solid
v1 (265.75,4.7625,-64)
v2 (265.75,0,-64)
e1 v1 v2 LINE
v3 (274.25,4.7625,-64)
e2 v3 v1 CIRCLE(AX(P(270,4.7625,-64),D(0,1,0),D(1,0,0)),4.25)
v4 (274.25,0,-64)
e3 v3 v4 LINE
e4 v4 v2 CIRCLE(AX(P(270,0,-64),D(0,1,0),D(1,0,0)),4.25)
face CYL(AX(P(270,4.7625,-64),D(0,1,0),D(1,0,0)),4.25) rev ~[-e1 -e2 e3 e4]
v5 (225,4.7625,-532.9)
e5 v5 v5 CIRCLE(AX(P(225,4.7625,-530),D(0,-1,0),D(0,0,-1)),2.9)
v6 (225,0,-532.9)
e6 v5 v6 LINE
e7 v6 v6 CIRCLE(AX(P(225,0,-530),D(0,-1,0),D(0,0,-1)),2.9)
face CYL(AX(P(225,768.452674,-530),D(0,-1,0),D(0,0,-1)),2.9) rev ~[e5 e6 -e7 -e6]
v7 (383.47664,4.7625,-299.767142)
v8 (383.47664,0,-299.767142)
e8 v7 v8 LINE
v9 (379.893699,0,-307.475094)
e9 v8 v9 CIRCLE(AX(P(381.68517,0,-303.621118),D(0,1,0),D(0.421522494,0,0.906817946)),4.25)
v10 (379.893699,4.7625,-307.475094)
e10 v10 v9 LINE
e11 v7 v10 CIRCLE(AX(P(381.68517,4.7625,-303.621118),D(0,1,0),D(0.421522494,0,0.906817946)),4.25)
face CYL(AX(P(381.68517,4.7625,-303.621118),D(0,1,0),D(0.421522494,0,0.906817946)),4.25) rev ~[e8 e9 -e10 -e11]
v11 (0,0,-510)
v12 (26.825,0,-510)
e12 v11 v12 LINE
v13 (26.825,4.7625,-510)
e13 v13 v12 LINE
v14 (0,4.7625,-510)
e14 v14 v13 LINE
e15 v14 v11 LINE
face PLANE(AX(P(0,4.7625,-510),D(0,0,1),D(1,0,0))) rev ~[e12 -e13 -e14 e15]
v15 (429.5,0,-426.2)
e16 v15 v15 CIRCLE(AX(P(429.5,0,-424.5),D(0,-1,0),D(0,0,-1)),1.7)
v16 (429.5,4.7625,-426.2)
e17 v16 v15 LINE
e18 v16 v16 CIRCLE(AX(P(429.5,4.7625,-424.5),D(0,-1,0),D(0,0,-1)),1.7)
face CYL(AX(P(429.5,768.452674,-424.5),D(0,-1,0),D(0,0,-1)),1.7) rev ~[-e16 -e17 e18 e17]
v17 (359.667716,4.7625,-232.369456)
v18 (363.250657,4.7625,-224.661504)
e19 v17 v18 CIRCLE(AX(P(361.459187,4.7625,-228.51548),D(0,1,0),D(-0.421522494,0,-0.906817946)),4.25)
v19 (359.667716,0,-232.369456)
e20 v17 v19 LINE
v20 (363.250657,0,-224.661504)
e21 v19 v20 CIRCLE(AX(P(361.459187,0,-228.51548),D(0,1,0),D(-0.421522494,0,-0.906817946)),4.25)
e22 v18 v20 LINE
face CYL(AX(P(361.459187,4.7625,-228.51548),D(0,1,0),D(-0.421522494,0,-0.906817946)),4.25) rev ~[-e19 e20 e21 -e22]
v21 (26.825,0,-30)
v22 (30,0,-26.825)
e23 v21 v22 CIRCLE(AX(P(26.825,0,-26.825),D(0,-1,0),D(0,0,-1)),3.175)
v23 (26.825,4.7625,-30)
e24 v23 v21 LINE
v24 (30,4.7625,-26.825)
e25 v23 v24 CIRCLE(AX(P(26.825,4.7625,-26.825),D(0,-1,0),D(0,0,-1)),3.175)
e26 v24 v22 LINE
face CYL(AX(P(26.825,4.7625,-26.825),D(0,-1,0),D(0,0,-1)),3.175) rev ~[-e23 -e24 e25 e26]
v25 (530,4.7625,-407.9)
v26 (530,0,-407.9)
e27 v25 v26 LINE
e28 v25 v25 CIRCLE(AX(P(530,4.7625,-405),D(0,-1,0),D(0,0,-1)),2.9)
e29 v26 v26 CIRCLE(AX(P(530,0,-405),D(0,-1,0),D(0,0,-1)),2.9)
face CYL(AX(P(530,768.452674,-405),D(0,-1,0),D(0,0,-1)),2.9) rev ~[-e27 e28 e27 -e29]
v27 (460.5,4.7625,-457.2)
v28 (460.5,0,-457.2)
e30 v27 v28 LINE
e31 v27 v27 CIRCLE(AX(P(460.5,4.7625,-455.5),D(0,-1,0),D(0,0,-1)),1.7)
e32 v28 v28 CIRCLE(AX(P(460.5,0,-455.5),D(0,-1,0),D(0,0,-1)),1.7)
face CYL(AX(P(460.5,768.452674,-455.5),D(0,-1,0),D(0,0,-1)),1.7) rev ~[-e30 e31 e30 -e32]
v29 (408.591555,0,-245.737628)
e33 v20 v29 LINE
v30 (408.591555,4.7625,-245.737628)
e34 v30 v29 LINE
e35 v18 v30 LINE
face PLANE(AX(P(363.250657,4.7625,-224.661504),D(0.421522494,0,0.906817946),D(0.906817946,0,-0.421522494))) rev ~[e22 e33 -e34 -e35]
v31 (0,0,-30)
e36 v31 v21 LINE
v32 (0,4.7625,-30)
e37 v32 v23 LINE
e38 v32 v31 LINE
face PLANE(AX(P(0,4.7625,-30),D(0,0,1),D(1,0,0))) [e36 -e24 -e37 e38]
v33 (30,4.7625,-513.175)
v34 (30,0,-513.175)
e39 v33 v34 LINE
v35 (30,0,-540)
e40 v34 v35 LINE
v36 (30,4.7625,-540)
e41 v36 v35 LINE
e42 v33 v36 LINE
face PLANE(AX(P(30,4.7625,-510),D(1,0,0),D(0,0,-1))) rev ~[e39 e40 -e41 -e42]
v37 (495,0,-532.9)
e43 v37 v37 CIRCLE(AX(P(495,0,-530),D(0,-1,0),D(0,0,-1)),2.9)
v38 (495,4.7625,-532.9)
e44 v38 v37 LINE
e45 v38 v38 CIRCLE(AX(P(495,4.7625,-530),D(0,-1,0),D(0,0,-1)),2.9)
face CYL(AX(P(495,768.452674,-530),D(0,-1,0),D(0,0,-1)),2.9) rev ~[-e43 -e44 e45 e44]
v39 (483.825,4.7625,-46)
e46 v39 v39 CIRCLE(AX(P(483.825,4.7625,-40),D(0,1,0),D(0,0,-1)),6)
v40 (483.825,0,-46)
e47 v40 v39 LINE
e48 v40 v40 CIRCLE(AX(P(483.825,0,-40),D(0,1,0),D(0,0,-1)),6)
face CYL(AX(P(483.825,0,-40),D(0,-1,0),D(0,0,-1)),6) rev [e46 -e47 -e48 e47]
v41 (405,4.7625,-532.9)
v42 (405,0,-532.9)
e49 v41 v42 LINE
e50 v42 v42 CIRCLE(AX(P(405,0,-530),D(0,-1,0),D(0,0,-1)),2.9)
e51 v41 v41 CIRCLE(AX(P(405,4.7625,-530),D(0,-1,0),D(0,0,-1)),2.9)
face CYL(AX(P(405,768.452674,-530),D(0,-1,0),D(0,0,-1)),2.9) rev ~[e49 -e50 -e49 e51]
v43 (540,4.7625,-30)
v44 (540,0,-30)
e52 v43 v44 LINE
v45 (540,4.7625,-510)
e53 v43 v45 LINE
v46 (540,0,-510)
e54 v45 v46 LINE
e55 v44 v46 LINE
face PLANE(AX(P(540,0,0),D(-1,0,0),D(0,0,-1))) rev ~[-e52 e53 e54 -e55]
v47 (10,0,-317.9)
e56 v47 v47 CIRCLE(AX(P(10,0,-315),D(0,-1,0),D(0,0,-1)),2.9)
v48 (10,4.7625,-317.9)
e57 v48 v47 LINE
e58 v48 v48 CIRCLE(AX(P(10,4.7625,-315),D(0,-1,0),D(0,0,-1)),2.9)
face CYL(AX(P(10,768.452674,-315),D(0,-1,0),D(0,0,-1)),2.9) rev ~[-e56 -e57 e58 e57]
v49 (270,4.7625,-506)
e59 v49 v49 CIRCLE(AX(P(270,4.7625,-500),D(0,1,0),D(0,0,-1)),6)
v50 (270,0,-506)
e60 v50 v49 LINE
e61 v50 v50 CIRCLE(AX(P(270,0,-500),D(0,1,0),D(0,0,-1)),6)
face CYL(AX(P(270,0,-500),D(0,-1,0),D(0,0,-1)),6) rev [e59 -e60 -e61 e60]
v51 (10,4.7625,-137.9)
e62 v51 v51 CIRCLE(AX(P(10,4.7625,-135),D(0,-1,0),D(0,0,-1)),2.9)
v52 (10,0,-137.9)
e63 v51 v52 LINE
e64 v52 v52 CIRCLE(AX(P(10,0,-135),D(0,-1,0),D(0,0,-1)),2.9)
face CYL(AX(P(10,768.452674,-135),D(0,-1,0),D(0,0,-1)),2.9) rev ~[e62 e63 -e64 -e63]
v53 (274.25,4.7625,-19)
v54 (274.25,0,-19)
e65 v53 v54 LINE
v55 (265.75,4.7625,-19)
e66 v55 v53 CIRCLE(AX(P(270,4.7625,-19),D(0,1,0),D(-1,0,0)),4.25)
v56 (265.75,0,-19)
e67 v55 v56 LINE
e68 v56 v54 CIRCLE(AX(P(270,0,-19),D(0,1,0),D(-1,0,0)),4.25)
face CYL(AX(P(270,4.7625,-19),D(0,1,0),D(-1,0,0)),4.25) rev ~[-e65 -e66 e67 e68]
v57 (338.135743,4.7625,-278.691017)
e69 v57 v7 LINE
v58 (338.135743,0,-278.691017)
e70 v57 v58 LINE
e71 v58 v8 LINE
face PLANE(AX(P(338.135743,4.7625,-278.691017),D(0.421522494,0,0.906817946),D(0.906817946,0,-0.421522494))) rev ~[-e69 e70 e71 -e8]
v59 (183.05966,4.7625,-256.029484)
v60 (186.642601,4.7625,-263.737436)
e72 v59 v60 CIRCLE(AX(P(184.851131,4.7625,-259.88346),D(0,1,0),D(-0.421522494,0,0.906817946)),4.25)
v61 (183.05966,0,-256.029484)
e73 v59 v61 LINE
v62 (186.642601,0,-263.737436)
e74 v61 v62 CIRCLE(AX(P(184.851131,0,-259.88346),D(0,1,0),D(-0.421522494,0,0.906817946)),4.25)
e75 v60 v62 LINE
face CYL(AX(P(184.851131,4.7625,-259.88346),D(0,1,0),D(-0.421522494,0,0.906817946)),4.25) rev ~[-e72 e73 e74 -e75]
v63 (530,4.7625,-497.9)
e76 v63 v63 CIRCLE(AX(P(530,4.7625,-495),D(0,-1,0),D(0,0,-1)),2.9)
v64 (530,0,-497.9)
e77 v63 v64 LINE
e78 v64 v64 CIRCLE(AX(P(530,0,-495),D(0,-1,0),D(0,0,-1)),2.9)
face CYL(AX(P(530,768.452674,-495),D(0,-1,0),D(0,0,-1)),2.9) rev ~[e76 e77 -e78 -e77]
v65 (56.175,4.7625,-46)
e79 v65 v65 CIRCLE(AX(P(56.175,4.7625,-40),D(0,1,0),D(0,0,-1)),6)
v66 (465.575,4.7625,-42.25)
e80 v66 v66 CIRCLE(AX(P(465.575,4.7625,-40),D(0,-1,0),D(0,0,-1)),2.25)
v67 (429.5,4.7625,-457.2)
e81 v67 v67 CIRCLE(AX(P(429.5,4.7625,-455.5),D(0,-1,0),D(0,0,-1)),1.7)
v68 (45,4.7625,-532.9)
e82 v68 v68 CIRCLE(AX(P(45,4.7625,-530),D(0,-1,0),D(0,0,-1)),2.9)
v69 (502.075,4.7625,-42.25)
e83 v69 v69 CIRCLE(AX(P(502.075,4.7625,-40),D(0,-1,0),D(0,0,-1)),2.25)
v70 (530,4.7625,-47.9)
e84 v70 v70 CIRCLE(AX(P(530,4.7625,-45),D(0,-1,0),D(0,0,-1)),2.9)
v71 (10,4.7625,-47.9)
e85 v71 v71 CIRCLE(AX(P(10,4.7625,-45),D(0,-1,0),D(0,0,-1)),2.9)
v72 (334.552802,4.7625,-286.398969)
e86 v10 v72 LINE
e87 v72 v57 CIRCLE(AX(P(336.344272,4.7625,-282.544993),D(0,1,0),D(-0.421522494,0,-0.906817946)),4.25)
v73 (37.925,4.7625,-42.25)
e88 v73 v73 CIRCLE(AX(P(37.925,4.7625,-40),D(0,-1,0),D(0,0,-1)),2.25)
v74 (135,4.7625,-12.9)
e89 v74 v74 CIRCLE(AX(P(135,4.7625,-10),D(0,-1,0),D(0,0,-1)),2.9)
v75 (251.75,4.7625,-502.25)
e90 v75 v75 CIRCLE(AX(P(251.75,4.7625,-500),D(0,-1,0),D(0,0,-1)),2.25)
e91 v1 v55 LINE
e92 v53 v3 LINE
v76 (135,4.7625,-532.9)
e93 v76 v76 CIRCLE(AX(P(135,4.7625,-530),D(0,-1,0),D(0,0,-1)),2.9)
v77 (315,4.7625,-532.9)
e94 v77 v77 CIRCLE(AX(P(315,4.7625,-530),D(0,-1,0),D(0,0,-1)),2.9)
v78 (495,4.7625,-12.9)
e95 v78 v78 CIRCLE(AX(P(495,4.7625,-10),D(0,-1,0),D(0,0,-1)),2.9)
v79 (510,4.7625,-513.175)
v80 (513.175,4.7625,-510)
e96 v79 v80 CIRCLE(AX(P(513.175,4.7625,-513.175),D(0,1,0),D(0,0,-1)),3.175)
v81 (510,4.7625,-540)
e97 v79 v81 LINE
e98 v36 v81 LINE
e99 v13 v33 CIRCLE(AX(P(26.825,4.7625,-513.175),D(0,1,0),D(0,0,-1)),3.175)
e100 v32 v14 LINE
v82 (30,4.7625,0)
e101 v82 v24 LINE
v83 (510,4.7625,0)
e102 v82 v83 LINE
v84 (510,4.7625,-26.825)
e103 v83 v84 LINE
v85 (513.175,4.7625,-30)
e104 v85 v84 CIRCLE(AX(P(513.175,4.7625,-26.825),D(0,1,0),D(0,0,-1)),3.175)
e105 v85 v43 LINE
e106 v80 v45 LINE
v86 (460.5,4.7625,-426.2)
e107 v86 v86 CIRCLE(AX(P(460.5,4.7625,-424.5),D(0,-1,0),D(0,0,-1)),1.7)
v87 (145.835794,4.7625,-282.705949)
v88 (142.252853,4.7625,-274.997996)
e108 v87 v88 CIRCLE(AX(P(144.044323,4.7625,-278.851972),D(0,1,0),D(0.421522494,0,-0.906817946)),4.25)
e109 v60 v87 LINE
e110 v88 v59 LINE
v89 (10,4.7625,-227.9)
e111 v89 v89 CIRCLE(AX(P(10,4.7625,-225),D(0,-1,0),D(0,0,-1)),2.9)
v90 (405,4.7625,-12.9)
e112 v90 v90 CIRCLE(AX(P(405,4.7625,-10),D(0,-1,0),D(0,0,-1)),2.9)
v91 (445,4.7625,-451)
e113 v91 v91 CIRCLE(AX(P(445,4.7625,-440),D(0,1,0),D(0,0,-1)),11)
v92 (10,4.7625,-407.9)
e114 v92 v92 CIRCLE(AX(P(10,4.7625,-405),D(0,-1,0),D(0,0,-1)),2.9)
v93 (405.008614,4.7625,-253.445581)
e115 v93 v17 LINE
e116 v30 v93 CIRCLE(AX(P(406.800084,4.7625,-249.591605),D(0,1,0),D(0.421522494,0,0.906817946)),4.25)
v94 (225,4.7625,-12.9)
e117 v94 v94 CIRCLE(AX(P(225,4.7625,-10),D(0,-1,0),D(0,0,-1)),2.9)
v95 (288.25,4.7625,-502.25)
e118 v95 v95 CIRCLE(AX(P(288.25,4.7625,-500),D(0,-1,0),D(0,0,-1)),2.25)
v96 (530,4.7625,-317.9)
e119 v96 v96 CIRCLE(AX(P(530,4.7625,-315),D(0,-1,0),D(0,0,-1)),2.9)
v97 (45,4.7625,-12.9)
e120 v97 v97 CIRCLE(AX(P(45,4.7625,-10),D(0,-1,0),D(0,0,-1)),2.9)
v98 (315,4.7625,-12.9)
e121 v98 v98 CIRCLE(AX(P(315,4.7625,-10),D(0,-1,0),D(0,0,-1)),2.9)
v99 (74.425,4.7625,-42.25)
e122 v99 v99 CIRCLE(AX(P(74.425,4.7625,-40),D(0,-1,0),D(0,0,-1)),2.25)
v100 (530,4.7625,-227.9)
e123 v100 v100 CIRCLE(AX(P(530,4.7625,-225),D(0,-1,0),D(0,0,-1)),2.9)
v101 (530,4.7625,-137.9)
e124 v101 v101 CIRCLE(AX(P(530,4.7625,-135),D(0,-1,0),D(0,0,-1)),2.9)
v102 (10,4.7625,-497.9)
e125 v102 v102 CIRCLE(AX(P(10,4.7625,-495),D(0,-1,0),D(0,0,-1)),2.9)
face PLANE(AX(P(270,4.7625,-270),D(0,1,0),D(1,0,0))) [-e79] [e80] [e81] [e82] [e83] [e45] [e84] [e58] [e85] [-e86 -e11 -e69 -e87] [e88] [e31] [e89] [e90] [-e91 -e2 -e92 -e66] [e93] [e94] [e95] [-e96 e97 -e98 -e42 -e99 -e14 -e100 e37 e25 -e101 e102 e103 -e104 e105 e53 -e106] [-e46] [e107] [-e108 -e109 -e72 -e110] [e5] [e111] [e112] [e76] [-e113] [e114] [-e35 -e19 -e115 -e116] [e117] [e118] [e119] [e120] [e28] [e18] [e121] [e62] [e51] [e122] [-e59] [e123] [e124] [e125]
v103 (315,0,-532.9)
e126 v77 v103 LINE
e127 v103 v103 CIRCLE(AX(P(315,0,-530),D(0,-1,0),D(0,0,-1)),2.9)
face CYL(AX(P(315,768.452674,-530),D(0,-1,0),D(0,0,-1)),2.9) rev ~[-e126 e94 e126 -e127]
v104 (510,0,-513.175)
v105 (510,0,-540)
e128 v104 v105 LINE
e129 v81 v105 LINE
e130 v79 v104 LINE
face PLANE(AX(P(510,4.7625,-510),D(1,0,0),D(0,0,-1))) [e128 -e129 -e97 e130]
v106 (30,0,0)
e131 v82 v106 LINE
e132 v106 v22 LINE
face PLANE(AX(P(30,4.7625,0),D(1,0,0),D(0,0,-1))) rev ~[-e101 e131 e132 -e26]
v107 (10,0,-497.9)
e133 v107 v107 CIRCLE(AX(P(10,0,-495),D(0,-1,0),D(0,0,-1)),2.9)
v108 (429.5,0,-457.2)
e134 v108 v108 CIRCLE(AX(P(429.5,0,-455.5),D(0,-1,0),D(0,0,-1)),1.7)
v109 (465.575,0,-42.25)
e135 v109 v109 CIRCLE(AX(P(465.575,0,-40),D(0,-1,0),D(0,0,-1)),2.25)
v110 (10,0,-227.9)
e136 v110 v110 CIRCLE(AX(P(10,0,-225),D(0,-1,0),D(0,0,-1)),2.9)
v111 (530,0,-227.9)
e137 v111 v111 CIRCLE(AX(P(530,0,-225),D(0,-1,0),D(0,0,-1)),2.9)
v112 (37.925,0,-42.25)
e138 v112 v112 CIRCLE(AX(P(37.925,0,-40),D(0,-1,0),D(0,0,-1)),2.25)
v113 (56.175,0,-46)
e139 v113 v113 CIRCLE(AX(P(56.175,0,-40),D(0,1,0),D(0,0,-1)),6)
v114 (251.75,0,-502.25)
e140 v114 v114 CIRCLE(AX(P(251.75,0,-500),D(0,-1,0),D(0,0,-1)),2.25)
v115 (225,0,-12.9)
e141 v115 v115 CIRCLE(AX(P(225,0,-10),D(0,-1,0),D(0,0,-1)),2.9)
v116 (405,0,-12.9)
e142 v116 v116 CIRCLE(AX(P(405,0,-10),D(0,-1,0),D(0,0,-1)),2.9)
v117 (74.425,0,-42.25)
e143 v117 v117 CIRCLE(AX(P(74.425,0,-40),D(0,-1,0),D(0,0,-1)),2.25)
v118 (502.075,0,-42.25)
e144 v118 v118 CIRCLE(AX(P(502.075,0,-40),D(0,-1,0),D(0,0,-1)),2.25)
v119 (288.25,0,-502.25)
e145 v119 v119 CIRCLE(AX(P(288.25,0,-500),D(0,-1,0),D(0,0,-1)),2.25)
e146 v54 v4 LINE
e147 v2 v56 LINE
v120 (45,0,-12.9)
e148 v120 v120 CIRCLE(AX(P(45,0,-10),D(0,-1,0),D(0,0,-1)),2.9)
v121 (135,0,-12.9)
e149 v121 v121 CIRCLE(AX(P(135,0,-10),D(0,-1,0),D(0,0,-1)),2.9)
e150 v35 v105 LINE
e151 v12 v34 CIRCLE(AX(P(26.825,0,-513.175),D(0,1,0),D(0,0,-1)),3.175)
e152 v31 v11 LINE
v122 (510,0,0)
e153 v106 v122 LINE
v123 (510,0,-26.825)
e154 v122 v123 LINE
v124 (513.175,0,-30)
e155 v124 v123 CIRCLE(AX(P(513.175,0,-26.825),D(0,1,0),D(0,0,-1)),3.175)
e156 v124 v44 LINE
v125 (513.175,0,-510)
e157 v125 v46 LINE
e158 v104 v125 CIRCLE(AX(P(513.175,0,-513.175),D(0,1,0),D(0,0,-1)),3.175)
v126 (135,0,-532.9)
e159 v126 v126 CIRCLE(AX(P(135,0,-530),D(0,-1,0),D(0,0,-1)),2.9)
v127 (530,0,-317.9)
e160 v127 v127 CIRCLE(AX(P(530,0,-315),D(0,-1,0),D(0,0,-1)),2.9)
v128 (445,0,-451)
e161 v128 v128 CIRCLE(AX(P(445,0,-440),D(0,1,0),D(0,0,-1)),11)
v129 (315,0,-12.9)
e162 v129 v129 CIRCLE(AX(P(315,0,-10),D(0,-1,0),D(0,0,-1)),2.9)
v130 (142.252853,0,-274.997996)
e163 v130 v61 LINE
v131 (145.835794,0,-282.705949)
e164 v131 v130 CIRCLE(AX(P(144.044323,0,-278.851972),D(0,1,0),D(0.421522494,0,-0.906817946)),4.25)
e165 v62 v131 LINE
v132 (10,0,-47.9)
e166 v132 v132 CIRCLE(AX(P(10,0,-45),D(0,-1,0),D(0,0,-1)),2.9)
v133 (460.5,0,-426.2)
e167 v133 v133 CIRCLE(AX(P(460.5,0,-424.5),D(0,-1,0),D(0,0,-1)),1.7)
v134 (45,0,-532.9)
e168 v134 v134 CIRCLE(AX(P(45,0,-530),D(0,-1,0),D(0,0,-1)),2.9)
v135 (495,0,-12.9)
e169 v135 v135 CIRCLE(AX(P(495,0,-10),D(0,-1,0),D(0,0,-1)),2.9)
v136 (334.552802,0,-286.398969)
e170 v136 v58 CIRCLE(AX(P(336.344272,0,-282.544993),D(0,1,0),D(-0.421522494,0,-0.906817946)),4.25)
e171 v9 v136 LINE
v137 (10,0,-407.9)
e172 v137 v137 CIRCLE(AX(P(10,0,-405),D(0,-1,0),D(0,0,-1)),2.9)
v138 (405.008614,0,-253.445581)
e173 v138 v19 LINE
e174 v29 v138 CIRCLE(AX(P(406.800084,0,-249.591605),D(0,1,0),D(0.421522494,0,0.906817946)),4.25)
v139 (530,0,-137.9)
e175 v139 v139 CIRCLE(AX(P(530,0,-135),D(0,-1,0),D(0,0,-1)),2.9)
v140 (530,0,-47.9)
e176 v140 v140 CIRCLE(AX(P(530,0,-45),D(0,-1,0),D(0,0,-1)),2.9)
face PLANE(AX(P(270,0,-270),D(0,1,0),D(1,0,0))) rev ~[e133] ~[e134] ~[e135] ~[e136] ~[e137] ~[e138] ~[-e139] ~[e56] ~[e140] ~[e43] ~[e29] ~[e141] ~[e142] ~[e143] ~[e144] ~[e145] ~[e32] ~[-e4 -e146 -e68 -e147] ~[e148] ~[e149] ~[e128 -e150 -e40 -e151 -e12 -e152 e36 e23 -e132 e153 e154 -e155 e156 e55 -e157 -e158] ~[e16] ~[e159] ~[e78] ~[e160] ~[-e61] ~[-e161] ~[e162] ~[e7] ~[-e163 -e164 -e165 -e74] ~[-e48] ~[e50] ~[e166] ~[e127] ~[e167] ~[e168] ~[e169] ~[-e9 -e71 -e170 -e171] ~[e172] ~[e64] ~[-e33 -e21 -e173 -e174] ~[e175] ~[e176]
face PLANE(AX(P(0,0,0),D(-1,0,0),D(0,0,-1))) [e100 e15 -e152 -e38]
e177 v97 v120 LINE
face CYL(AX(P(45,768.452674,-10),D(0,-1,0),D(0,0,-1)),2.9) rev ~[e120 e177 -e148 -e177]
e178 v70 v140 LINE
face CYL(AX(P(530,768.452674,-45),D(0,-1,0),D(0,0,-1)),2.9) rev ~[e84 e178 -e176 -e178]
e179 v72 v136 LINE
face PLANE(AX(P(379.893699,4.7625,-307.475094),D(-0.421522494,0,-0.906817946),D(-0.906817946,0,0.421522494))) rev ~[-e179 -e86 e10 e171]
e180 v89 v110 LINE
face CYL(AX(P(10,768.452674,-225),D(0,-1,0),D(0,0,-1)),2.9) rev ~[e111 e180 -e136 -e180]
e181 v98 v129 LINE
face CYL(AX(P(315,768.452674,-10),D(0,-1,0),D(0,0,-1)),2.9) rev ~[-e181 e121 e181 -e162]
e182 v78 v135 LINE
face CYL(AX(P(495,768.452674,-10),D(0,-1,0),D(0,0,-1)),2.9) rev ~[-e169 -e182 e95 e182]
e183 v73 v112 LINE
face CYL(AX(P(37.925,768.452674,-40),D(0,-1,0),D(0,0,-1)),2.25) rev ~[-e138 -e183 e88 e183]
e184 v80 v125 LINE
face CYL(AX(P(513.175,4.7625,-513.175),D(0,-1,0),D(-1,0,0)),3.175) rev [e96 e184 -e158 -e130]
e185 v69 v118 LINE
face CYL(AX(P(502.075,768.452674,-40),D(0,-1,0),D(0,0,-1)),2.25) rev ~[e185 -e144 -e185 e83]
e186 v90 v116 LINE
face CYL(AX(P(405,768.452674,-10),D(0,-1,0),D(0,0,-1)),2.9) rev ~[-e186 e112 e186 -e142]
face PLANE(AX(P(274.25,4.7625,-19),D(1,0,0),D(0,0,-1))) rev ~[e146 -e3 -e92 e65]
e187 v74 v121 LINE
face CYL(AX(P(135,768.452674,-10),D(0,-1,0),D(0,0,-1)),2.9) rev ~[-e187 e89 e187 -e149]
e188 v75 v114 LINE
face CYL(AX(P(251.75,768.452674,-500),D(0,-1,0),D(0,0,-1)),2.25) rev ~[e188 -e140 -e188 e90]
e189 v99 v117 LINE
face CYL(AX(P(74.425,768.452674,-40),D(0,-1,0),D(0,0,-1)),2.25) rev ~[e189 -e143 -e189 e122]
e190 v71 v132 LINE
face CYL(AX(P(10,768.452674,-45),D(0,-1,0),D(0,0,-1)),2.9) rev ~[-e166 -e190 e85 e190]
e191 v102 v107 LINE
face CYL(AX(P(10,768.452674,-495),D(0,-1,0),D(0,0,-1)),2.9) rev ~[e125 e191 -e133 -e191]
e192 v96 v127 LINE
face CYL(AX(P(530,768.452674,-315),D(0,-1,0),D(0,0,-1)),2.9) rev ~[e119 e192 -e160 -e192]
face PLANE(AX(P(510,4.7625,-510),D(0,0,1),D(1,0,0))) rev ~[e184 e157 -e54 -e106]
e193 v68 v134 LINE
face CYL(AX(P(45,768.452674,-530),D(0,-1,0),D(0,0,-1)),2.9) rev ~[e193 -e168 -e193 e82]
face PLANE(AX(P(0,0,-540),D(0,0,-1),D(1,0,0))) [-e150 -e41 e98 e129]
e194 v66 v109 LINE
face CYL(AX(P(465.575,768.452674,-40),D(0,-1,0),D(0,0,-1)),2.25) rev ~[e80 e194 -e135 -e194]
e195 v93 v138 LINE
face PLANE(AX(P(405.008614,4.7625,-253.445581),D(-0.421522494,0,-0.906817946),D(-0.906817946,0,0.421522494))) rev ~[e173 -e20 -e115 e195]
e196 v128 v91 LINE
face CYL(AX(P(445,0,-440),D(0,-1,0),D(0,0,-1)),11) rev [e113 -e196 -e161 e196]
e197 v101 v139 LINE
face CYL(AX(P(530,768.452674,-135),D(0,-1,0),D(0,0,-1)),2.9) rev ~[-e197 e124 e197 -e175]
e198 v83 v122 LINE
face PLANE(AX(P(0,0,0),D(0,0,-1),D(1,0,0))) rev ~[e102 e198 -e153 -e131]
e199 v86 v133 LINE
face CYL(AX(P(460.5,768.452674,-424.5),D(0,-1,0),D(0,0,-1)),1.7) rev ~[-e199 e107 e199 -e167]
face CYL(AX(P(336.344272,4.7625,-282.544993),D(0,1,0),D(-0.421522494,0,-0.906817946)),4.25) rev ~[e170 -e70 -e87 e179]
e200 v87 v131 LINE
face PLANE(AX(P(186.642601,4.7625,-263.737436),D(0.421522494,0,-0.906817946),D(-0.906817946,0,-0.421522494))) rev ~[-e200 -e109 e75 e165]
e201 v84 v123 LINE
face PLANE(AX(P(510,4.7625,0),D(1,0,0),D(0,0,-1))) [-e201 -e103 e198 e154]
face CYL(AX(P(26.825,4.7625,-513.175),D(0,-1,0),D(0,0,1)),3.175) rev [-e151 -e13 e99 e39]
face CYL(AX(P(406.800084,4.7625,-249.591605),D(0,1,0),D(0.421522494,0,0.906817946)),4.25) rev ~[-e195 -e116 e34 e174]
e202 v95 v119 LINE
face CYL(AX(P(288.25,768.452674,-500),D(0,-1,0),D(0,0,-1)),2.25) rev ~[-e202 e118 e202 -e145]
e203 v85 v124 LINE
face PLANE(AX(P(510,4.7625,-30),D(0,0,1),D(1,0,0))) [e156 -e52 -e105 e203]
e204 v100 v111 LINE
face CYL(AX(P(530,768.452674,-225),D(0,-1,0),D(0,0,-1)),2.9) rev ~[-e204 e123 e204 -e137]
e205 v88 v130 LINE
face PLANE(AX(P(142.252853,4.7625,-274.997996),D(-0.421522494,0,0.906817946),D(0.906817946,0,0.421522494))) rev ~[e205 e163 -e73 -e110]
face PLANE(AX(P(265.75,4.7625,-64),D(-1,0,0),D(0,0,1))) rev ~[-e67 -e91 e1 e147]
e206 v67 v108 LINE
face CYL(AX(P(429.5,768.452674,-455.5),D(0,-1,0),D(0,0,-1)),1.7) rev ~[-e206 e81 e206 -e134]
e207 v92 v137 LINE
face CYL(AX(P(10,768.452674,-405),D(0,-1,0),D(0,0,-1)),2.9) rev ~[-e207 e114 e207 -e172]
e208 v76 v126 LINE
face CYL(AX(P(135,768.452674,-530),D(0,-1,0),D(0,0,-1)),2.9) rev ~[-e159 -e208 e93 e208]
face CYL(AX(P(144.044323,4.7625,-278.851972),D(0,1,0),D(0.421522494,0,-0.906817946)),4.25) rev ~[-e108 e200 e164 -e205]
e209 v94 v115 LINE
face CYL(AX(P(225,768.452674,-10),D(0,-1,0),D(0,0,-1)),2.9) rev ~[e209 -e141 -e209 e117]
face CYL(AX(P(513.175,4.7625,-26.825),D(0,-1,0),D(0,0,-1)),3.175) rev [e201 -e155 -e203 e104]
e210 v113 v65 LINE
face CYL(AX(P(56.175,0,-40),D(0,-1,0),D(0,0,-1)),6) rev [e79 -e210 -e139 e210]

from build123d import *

# Parameters (mm, degrees)
SKETCH2_W             = 540
SKETCH2_H             = 540
SKETCH2_R             = 6
SKETCH2_R_2           = 11
BOSS_EXTRUDE1_DEPTH   = 4.7625
M4_CLEARANCE_HOLE1_D  = 4.5
M3_CLEARANCE_HOLE10_D = 3.4
SKETCH5_W             = 30
SKETCH5_H             = 30
CUT_EXTRUDE1_DEPTH    = 764.6901737
FILLET1_R             = 3.175
CUT_EXTRUDE2_DEPTH    = 764.6901737
CUT_EXTRUDE3_DEPTH    = 764.6901737
M5_CLEARANCE_HOLE1_D  = 5.8
LPATTERN1_COUNT       = 6
LPATTERN1_PITCH       = 90
M5_CLEARANCE_HOLE2_D  = 5.8
LPATTERN2_COUNT       = 6
LPATTERN2_PITCH       = 90
M5_CLEARANCE_HOLE3_D  = 5.8
LPATTERN3_COUNT       = 6
LPATTERN3_PITCH       = 90
M5_CLEARANCE_HOLE4_D  = 5.8
LPATTERN4_COUNT       = 6
LPATTERN4_PITCH       = 90


with BuildPart() as part:
    # Sketch2 → Boss-Extrude1 (new body)
    with BuildSketch(Plane(origin=(0, 0, 0), x_dir=(1, 0, 0), z_dir=(0, 1, 0))):
        with Locations((270, 270)):
            Rectangle(SKETCH2_W, SKETCH2_H)
        with Locations((56.175, 40)):
            Circle(SKETCH2_R, mode=Mode.SUBTRACT)
        with Locations((483.825, 40)):
            Circle(SKETCH2_R, mode=Mode.SUBTRACT)
        with Locations((270, 500)):
            Circle(SKETCH2_R, mode=Mode.SUBTRACT)
        with Locations((445, 440)):
            Circle(SKETCH2_R_2, mode=Mode.SUBTRACT)
    extrude(amount=BOSS_EXTRUDE1_DEPTH)

    # M4 Clearance Hole1 (through all)
    with Locations(Plane(origin=(74.425, 4.7625, -40), x_dir=(0, 0, 1), z_dir=(0, 1, 0))):
        with Locations((0, 0), (0, -36.5), (-460, 177.325), (-460, 213.825), (0, 391.15), (0, 427.65)):
            Hole(M4_CLEARANCE_HOLE1_D / 2)

    # M3 Clearance Hole10 (through all)
    with Locations(Plane(origin=(429.5, 4.7625, -455.5), x_dir=(0, 0, 1), z_dir=(0, 1, 0))):
        with Locations((0, 0), (0, 31), (31, 31), (31, 0)):
            Hole(M3_CLEARANCE_HOLE10_D / 2)

    # Sketch5 → Cut-Extrude1 (cut, through all)
    with BuildSketch(Plane(origin=(0, 4.7625, 0), x_dir=(1, 0, 0), z_dir=(0, 1, 0))):
        with Locations((15, 15)):
            Rectangle(SKETCH5_W, SKETCH5_H)
        with Locations((525, 15)):
            Rectangle(SKETCH5_W, SKETCH5_H)
        with Locations((525, 525)):
            Rectangle(SKETCH5_W, SKETCH5_H)
        with Locations((15, 525)):
            Rectangle(SKETCH5_W, SKETCH5_H)
    extrude(amount=-CUT_EXTRUDE1_DEPTH, mode=Mode.SUBTRACT)

    # Fillet1
    fillet1_edges = [part.edges().sort_by_distance(p)[0] for p in [
        (30, 2.38125, -510),
        (510, 2.38125, -510),
        (510, 2.38125, -30),
        (30, 2.38125, -30),
    ]]
    fillet(fillet1_edges, radius=FILLET1_R)

    # Sketch6 → Cut-Extrude2 (cut, through all)
    with BuildSketch(Plane(origin=(0, 4.7625, 0), x_dir=(1, 0, 0), z_dir=(0, 1, 0))):
        with BuildLine():
            Line((379.893699129, 307.475094097), (334.552801834, 286.398969393))
            ThreePointArc((334.552801834, 286.398969393), (332.490296164, 280.753522523), (338.135743034, 278.691016853))
            Line((338.135743034, 278.691016853), (383.476640328, 299.767141557))
            ThreePointArc((383.476640328, 299.767141557), (385.539145999, 305.412588427), (379.893699129, 307.475094097))
        make_face()
        with BuildLine():
            Line((405.008613589, 253.445580936), (359.667716294, 232.369456232))
            ThreePointArc((359.667716294, 232.369456232), (357.605210624, 226.724009362), (363.250657494, 224.661503692))
            Line((363.250657494, 224.661503692), (408.591554788, 245.737628396))
            ThreePointArc((408.591554788, 245.737628396), (410.654060459, 251.383075266), (405.008613589, 253.445580936))
        make_face()
    extrude(amount=-CUT_EXTRUDE2_DEPTH, mode=Mode.SUBTRACT)

    # Sketch9 → Cut-Extrude3 (cut, through all)
    with BuildSketch(Plane(origin=(0, 4.7625, 0), x_dir=(1, 0, 0), z_dir=(0, 1, 0))):
        with BuildLine():
            Line((274.25, 19), (274.25, 64))
            ThreePointArc((274.25, 64), (270, 68.25), (265.75, 64))
            Line((265.75, 64), (265.75, 19))
            ThreePointArc((265.75, 19), (270, 14.75), (274.25, 19))
        make_face()
        with BuildLine():
            Line((186.642601301, 263.737436412), (145.835793736, 282.705948646))
            ThreePointArc((145.835793736, 282.705948646), (140.190346866, 280.643442976), (142.252852537, 274.997996106))
            Line((142.252852537, 274.997996106), (183.059660101, 256.029483872))
            ThreePointArc((183.059660101, 256.029483872), (188.705106971, 258.091989542), (186.642601301, 263.737436412))
        make_face()
    extrude(amount=-CUT_EXTRUDE3_DEPTH, mode=Mode.SUBTRACT)

    # M5 Clearance Hole1 (through all)
    with Locations(Plane(origin=(45, 4.7625, -10), x_dir=(0, 0, 1), z_dir=(0, 1, 0))):
        with Locations((0, 0)):
            m5_clearance_hole1 = Hole(M5_CLEARANCE_HOLE1_D / 2)

    # LPattern1: M5 Clearance Hole1 ×6
    with Locations(*[(i * LPATTERN1_PITCH, 0, 0) for i in range(1, LPATTERN1_COUNT)]):
        add(m5_clearance_hole1, mode=Mode.SUBTRACT)

    # M5 Clearance Hole2 (through all)
    with Locations(Plane(origin=(10, 4.7625, -495), x_dir=(0, 0, 1), z_dir=(0, 1, 0))):
        with Locations((0, 0)):
            m5_clearance_hole2 = Hole(M5_CLEARANCE_HOLE2_D / 2)

    # LPattern2: M5 Clearance Hole2 ×6
    with Locations(*[(0, 0, i * LPATTERN2_PITCH) for i in range(1, LPATTERN2_COUNT)]):
        add(m5_clearance_hole2, mode=Mode.SUBTRACT)

    # M5 Clearance Hole3 (through all)
    with Locations(Plane(origin=(495, 4.7625, -530), x_dir=(0, 0, 1), z_dir=(0, 1, 0))):
        with Locations((0, 0)):
            m5_clearance_hole3 = Hole(M5_CLEARANCE_HOLE3_D / 2)

    # LPattern3: M5 Clearance Hole3 ×6
    with Locations(*[(-i * LPATTERN3_PITCH, 0, 0) for i in range(1, LPATTERN3_COUNT)]):
        add(m5_clearance_hole3, mode=Mode.SUBTRACT)

    # M5 Clearance Hole4 (through all)
    with Locations(Plane(origin=(530, 4.7625, -45), x_dir=(0, 0, 1), z_dir=(0, 1, 0))):
        with Locations((0, 0)):
            m5_clearance_hole4 = Hole(M5_CLEARANCE_HOLE4_D / 2)

    # LPattern4: M5 Clearance Hole4 ×6
    with Locations(*[(0, 0, -i * LPATTERN4_PITCH) for i in range(1, LPATTERN4_COUNT)]):
        add(m5_clearance_hole4, mode=Mode.SUBTRACT)


solid = part.part
